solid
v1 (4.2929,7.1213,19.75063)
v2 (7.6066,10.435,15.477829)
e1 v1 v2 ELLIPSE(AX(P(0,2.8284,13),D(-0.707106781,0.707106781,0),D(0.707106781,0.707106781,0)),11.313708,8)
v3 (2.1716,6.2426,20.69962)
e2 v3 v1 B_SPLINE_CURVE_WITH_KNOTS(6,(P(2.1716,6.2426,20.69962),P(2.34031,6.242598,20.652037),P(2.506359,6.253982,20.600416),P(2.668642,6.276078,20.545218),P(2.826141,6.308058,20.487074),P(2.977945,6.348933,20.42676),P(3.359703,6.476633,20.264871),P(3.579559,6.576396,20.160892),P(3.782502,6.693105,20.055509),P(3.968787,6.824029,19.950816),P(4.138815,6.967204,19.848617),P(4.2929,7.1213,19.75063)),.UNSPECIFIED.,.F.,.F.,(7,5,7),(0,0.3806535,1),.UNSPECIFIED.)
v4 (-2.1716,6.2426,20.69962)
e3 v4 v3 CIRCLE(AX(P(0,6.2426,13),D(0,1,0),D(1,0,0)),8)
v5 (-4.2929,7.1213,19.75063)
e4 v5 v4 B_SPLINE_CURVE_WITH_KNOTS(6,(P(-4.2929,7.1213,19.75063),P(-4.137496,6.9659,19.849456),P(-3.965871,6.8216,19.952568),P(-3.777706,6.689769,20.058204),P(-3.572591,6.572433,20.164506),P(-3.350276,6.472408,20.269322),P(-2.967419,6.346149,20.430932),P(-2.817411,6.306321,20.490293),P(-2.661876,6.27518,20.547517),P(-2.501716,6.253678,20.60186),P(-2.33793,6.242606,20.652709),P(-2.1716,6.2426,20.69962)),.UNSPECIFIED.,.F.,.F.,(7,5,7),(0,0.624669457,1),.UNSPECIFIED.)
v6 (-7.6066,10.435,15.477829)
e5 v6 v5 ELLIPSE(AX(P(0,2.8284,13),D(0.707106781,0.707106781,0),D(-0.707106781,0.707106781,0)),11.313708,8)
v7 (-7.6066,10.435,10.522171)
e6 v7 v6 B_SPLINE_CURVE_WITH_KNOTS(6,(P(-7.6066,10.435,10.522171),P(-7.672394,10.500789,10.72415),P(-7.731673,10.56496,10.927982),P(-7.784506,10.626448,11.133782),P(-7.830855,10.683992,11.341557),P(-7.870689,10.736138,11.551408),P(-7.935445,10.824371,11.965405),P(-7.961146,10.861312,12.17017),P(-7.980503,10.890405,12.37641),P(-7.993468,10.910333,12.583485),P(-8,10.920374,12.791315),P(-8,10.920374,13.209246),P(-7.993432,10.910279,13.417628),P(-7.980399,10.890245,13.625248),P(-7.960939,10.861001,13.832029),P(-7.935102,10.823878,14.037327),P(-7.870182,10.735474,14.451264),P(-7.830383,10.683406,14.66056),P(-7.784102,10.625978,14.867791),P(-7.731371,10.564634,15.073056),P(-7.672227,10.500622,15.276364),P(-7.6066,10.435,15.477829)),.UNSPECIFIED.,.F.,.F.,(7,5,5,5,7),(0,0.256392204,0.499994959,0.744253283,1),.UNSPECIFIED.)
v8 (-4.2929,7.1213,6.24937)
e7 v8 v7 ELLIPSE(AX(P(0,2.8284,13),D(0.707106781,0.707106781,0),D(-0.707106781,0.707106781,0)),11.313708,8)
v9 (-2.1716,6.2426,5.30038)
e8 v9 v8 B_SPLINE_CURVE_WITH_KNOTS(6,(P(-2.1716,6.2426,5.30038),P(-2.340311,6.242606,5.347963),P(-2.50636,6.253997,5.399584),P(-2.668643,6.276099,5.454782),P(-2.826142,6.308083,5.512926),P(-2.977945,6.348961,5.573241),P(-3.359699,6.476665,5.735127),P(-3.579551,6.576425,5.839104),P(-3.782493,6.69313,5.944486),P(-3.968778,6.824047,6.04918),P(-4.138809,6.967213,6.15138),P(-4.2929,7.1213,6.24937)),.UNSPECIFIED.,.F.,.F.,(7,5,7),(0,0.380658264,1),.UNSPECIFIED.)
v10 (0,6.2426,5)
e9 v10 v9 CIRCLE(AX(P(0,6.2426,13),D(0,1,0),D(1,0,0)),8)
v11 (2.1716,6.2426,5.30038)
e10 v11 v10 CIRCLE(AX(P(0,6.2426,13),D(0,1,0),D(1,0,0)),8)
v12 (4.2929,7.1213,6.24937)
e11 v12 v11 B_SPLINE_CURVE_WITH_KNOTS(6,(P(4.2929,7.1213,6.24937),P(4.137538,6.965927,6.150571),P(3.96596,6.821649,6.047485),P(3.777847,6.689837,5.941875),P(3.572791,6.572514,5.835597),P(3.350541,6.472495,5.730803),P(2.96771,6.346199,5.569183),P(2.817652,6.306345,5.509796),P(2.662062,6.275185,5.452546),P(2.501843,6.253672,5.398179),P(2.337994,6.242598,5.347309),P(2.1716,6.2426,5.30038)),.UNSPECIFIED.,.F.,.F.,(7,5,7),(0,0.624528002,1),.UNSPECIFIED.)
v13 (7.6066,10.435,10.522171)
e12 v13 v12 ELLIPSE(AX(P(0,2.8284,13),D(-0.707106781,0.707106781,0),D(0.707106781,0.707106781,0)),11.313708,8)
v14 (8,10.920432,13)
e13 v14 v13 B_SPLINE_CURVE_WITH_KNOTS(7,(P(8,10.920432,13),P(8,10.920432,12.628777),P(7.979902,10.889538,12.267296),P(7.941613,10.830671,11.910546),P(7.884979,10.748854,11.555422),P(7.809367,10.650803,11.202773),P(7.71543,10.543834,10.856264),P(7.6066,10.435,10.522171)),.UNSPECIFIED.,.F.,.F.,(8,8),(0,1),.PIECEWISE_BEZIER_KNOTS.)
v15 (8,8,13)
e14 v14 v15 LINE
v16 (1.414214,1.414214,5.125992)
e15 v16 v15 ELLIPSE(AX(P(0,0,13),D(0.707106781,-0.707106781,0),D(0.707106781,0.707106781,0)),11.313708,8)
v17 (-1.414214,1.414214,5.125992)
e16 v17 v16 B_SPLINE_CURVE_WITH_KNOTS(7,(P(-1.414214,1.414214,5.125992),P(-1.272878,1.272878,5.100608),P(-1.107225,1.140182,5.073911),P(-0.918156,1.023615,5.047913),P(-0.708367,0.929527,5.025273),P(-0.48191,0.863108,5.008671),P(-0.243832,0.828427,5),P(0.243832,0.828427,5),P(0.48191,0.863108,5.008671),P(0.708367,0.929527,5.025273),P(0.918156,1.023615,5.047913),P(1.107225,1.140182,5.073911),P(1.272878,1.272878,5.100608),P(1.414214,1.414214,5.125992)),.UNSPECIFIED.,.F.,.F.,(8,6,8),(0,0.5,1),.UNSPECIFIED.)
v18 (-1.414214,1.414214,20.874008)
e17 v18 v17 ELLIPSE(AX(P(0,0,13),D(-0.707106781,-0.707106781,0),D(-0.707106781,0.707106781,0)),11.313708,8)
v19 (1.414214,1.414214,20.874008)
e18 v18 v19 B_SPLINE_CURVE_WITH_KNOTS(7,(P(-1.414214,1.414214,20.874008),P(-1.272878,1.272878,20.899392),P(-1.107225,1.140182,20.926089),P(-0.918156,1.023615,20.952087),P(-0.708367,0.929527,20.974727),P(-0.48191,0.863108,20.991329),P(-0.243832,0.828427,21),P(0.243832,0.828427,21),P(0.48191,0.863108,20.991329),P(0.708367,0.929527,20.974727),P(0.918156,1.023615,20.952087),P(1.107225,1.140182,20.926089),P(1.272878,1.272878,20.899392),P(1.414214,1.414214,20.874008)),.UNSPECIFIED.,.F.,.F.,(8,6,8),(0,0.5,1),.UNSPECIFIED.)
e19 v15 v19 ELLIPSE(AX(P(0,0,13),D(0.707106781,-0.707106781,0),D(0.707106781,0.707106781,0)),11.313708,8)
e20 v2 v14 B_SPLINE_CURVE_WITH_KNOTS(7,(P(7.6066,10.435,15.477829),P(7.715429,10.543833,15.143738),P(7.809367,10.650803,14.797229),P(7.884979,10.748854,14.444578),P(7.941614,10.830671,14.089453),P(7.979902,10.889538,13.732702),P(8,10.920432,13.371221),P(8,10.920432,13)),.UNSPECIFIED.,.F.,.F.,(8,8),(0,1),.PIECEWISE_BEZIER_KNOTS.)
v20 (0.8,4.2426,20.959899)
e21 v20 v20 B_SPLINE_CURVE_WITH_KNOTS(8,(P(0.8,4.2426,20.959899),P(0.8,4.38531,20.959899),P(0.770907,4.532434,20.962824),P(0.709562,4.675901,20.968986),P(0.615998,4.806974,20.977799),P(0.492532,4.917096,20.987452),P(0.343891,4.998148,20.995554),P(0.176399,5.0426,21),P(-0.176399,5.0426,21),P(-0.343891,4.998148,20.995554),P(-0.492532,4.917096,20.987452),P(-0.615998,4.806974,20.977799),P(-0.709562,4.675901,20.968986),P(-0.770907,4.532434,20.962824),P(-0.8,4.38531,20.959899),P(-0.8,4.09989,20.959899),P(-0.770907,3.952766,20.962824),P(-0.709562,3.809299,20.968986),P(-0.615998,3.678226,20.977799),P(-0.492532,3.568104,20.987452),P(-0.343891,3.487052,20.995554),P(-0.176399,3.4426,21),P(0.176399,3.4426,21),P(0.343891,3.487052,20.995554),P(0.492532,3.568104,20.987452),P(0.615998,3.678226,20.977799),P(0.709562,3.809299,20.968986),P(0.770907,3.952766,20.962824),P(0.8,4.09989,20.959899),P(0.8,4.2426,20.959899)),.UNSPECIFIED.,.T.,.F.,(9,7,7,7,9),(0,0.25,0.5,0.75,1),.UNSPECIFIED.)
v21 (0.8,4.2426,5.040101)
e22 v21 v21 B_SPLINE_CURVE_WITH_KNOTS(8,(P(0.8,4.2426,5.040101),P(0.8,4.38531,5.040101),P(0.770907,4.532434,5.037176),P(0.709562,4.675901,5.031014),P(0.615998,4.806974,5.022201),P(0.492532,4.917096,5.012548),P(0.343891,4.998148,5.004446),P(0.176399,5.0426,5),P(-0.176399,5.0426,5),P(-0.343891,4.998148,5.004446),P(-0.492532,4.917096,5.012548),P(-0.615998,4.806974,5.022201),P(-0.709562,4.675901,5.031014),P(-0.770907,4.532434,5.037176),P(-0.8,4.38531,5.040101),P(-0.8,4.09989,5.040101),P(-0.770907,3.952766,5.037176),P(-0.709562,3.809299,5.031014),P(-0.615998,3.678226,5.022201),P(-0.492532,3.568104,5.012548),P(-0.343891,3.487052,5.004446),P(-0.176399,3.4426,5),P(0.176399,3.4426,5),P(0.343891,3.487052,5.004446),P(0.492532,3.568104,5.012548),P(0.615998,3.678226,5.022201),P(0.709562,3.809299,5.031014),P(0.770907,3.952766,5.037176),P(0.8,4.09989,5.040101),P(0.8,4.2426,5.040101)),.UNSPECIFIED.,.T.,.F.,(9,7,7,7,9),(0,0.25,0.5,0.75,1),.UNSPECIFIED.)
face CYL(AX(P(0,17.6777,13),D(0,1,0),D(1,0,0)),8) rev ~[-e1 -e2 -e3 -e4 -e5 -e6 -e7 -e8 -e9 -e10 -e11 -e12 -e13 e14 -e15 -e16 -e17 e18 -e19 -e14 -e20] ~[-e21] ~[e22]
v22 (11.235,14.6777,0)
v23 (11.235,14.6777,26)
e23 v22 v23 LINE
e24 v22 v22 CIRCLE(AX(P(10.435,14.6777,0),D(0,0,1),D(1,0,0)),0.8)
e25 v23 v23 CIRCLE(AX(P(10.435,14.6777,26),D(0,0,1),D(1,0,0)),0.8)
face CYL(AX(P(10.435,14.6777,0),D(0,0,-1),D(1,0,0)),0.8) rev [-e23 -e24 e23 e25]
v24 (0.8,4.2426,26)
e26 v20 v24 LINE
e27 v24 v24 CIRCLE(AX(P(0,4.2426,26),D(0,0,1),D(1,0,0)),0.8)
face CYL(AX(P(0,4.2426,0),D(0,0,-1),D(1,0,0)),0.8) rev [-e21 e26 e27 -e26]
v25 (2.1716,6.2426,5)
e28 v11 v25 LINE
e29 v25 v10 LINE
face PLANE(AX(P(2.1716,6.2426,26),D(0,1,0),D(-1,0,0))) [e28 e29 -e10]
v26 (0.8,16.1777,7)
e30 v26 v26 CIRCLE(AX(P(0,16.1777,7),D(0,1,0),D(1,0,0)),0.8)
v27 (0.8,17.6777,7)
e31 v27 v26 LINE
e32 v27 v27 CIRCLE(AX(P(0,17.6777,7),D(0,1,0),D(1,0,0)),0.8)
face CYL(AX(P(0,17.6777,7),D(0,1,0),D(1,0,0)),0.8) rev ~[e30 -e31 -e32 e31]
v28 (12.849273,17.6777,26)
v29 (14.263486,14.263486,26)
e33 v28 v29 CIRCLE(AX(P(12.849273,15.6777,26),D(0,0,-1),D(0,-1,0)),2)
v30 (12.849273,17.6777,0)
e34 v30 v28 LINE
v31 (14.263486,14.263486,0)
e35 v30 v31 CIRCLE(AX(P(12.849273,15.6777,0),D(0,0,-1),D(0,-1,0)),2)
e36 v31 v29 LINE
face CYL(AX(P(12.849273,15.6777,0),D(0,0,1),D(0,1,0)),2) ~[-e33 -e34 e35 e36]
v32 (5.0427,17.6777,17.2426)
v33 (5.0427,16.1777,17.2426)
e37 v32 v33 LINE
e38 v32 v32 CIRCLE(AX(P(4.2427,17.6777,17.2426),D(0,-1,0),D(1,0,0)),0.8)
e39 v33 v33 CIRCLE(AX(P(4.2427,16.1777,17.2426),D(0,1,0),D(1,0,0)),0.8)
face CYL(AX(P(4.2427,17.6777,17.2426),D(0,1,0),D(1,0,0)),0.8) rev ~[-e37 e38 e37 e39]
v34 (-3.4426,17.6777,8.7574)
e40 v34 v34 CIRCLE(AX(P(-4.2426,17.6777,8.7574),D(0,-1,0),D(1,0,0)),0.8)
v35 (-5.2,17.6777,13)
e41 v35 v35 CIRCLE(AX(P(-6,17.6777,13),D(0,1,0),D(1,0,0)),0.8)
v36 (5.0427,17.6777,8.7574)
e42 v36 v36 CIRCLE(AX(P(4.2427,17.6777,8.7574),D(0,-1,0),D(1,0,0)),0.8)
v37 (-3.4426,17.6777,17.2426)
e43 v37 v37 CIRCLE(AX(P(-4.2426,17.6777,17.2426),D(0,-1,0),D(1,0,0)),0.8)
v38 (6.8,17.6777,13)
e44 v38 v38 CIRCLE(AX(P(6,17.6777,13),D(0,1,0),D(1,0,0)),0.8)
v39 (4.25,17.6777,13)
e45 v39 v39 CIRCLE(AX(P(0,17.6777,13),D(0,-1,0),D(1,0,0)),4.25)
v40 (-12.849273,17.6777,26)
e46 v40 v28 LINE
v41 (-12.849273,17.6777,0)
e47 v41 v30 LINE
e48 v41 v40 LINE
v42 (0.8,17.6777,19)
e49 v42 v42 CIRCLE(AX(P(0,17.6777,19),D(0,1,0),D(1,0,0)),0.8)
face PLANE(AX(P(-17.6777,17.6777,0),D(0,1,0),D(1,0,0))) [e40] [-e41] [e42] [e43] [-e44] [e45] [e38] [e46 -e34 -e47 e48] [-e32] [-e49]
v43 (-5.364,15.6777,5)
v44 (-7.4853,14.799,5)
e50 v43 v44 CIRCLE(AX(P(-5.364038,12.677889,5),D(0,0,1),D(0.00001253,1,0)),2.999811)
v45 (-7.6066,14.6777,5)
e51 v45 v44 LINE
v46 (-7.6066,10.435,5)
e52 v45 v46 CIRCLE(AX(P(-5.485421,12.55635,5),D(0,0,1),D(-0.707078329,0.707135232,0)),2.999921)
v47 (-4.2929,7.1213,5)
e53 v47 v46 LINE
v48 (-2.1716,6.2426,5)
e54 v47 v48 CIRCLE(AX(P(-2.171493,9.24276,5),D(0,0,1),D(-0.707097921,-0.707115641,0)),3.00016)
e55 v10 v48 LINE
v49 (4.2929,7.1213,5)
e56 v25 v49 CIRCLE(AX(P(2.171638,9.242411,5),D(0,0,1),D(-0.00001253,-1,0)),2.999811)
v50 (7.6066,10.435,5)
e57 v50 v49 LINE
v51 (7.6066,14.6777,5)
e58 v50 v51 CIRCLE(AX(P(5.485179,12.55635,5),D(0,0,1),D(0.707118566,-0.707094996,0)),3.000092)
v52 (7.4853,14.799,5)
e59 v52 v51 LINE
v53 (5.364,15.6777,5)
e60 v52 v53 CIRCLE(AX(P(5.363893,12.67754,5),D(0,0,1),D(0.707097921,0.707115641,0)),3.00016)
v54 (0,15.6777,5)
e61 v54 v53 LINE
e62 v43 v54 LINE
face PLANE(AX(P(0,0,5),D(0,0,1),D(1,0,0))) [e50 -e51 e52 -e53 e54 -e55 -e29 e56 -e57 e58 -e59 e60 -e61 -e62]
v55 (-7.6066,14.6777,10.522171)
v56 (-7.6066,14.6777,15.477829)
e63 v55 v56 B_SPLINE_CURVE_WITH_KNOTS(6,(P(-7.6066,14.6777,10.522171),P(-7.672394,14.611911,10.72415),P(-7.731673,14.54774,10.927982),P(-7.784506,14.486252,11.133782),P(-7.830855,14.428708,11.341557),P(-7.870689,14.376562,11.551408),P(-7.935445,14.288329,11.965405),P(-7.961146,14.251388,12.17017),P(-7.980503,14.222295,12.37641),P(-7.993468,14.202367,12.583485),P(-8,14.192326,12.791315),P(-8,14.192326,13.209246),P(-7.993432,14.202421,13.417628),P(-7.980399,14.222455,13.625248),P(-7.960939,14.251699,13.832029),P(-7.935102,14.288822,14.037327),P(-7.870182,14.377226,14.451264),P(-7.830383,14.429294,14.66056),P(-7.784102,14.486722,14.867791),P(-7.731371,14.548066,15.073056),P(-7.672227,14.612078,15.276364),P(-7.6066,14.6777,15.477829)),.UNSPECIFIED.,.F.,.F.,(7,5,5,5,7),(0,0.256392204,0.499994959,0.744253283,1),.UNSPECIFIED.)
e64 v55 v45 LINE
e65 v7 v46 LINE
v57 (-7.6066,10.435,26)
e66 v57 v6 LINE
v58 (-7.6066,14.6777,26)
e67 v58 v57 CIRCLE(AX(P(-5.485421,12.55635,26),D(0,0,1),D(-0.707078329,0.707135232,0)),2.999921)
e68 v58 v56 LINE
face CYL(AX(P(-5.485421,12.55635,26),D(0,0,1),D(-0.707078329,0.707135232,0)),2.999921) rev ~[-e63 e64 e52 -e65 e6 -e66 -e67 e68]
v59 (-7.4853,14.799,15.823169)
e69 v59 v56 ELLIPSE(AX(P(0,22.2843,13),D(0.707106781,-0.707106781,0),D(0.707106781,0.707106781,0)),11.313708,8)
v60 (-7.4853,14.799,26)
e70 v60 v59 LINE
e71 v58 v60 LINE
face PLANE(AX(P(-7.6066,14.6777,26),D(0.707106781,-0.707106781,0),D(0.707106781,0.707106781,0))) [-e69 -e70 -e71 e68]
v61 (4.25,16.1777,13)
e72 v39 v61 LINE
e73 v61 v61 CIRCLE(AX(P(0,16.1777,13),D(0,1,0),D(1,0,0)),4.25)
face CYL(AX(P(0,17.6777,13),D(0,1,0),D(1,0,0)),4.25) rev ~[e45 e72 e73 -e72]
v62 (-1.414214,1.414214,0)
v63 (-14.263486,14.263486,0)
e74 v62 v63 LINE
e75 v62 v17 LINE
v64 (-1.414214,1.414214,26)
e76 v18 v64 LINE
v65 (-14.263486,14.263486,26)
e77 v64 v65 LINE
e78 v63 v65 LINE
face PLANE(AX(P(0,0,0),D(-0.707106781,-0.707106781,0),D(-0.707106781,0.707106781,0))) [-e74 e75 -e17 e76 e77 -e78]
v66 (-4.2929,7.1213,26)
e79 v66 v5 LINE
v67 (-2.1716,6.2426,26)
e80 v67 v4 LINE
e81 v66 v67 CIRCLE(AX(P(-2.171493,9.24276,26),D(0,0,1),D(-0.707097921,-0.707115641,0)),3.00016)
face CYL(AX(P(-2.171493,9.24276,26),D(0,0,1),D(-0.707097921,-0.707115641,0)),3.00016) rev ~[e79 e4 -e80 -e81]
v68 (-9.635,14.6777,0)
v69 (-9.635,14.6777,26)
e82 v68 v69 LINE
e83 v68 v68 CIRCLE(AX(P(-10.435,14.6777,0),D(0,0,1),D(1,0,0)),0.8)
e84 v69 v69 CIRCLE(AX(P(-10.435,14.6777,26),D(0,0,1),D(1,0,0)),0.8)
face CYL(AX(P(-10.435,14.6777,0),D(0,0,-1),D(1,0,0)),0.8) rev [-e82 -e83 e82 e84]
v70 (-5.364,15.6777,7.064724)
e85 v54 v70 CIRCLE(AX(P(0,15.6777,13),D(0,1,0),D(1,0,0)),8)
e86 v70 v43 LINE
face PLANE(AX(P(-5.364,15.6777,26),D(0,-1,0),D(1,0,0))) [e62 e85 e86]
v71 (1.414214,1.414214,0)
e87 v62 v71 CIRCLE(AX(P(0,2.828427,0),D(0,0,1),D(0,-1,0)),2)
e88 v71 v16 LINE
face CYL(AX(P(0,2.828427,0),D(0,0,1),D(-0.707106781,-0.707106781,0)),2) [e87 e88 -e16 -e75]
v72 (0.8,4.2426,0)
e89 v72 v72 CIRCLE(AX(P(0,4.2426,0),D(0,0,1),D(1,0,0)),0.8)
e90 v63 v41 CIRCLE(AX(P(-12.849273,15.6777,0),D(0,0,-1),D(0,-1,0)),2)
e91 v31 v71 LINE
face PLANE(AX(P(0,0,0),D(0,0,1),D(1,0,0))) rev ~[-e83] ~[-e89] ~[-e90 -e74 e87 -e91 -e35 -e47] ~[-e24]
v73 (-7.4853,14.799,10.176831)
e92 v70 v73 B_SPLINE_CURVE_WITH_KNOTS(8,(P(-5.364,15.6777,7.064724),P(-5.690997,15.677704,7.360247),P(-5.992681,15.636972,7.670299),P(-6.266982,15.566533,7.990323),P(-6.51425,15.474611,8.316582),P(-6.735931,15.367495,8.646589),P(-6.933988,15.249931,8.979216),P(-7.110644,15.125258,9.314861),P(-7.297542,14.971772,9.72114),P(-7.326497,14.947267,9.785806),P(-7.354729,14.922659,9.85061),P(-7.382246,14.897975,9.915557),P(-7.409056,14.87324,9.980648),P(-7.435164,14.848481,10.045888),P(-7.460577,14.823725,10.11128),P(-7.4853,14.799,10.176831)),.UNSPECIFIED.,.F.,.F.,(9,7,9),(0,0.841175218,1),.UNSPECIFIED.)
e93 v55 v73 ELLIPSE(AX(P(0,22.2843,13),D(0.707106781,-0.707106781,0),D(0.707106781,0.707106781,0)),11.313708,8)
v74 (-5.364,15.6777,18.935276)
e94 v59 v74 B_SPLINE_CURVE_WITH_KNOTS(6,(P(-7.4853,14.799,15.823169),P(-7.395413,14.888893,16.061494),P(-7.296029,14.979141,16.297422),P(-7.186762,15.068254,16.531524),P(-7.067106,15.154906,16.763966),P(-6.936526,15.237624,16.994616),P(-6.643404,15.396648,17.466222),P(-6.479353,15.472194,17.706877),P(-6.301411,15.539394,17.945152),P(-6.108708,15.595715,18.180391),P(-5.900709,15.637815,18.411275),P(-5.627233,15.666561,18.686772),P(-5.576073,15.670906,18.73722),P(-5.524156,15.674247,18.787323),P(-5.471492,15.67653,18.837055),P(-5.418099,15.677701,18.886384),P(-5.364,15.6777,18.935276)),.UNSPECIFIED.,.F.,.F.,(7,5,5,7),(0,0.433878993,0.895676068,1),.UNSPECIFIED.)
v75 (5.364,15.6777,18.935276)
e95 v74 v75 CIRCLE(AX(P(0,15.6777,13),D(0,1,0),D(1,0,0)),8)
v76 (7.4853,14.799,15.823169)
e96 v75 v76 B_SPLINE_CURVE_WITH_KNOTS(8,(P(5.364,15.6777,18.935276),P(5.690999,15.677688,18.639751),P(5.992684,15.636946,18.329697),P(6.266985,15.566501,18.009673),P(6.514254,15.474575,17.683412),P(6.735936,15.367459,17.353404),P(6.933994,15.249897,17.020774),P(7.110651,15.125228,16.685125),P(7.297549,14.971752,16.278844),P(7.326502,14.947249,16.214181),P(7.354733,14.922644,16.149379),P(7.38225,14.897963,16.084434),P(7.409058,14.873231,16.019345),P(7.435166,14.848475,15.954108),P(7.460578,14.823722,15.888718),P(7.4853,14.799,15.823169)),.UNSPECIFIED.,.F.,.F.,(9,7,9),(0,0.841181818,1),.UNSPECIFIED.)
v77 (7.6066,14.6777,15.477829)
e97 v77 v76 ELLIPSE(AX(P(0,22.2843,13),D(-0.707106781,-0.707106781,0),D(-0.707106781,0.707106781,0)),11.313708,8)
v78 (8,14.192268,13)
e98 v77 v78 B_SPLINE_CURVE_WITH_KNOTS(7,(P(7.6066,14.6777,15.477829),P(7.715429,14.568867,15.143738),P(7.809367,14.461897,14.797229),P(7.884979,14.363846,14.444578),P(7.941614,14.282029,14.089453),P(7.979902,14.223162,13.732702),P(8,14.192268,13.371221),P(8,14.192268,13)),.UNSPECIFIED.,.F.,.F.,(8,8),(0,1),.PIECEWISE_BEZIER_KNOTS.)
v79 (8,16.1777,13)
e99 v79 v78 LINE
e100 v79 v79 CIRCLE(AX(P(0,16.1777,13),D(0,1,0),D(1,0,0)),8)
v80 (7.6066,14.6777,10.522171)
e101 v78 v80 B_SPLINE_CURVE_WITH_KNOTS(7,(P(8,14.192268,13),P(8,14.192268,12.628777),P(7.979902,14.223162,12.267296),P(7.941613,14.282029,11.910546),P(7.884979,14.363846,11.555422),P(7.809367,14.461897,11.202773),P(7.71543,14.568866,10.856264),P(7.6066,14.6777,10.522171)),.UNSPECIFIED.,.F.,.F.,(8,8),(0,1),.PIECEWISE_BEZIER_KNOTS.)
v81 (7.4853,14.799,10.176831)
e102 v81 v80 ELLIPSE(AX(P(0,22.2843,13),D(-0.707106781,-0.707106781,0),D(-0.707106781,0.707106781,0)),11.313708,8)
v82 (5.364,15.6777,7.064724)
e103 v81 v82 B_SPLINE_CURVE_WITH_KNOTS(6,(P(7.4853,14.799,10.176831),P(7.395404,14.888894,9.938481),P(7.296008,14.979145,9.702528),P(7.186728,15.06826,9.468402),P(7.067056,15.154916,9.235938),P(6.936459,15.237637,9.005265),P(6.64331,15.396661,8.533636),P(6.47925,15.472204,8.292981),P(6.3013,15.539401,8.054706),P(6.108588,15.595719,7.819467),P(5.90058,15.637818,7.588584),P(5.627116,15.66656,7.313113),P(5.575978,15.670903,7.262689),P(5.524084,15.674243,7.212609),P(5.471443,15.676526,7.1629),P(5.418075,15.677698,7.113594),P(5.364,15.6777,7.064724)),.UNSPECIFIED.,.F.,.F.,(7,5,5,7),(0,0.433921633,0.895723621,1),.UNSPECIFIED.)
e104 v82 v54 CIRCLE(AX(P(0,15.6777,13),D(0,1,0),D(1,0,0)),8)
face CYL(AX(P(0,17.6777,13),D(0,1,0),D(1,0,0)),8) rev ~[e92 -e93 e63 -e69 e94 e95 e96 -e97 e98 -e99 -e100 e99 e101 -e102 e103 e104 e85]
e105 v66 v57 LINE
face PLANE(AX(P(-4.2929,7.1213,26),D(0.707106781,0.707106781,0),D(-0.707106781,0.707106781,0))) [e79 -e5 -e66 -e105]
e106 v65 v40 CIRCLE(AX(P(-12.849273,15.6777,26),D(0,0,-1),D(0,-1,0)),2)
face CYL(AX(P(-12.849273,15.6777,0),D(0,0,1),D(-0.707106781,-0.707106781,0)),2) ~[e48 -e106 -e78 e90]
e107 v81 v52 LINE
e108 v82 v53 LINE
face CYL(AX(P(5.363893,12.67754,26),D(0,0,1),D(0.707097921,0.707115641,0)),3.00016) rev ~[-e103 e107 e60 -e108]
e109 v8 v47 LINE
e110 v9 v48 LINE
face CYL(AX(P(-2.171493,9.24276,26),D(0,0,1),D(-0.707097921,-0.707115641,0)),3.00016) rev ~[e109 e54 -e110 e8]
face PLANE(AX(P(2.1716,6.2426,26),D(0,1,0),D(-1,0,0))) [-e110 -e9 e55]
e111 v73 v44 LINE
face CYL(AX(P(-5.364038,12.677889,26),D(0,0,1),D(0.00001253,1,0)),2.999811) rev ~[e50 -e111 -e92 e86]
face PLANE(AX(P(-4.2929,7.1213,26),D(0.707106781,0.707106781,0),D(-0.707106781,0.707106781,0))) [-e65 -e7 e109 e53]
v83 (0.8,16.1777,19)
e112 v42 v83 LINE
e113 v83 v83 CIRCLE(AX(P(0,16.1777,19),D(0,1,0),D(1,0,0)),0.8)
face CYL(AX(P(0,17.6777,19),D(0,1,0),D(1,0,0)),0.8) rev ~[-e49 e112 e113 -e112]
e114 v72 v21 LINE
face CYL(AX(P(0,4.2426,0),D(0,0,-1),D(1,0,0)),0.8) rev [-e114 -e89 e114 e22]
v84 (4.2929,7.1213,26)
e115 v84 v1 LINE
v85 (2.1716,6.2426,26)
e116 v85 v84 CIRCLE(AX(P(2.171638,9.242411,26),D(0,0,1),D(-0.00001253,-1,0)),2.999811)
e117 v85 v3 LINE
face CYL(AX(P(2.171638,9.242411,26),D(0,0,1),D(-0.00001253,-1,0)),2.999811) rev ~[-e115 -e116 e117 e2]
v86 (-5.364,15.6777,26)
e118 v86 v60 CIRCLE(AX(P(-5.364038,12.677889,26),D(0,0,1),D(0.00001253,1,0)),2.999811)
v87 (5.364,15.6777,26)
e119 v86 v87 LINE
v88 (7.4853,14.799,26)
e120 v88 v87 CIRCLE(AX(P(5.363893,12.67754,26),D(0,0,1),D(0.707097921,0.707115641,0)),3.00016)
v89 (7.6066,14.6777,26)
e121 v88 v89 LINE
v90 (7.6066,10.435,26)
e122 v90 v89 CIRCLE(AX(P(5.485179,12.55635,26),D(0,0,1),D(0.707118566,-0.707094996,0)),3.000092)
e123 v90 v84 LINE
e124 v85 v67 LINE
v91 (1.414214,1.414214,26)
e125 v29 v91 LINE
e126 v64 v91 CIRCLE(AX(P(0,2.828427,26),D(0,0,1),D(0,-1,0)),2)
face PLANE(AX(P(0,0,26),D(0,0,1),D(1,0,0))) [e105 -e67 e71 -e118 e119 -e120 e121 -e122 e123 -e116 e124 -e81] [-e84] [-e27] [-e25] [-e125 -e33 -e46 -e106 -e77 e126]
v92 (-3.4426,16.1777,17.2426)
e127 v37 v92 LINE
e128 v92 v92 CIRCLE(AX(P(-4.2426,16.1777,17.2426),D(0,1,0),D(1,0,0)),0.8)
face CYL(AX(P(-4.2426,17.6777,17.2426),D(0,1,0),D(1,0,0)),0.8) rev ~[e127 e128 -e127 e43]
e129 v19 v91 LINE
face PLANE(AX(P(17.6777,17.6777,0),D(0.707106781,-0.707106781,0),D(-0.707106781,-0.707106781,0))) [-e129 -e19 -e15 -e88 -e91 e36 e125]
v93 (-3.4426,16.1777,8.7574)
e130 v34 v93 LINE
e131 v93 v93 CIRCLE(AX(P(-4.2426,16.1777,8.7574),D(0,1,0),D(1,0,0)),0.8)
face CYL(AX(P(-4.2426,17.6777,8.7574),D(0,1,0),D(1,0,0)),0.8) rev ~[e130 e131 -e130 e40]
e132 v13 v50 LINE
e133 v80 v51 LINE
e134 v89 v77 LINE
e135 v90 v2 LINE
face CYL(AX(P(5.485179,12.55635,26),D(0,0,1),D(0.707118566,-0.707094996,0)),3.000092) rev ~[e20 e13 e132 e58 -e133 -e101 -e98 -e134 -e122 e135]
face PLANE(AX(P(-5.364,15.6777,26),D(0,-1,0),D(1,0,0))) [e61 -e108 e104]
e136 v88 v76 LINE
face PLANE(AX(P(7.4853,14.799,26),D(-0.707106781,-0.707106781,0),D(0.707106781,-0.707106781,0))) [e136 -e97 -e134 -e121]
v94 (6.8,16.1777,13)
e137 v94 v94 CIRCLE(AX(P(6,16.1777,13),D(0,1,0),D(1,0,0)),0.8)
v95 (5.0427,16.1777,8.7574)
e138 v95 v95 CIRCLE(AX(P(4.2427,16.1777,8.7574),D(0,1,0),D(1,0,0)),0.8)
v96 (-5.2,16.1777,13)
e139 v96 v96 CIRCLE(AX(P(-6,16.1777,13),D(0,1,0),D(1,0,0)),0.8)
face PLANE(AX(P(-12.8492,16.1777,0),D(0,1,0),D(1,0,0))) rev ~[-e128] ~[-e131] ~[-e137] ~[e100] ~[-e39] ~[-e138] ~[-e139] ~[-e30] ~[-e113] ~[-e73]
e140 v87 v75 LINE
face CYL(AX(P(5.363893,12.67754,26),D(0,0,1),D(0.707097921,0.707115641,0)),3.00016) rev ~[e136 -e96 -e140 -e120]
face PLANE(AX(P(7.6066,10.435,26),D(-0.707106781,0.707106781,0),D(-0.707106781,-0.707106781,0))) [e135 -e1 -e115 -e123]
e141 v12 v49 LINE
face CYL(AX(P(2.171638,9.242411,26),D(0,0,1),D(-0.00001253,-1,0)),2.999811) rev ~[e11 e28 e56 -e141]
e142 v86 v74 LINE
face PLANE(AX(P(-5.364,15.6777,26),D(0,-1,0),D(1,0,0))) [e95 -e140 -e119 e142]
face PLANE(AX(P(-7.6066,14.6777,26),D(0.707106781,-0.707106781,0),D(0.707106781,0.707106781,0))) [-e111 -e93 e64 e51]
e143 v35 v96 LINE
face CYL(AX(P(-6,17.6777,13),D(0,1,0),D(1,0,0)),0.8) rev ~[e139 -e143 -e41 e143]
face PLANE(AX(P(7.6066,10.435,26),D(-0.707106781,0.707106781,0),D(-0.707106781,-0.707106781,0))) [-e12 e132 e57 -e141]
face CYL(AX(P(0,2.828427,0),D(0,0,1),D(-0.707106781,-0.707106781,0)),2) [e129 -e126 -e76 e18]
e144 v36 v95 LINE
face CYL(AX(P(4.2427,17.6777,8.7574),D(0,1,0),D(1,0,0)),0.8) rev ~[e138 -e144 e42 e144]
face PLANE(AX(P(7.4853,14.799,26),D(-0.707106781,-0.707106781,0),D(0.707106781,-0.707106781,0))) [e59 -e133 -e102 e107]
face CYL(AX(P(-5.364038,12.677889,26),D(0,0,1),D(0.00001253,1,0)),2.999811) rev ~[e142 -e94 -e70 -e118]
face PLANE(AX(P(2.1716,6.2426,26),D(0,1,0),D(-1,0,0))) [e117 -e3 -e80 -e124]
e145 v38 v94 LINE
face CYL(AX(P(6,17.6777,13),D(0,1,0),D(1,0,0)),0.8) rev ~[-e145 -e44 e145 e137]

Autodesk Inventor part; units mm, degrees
ref_plane "YZ Plane" through (0, 0, 0) normal (1, 0, 0) x (0, 1, 0)
ref_plane "XZ Plane" through (0, 0, 0) normal (0, 1, 0) x (-1, 0, 0)
ref_plane "XY Plane" through (0, 0, 0) normal (0, 0, 1) x (1, 0, 0)
sketch "スケッチ1" plane through (0, 0, 0) normal (0, 0, 1) x (1, 0, 0)
  line L0 (0, 0) -> (-17.6777, 17.6777)
  line L1 (-17.6777, 17.6777) -> (17.6777, 17.6777)
  line L2 (17.6777, 17.6777) -> (0, 0)
  line L3 (-17.6777, 17.6777) -> (-21.2487, 14.1066)
  line L4 (0, 0) -> (-2.2909, -2.2909)
  circle A0 centre (-10.435, 14.6777) radius 0.8
  circle A1 centre (10.435, 14.6777) radius 0.8
  circle A2 centre (0, 4.2426) radius 0.8
  dimension "d0" = 25
  dimension "d1" = 45
  dimension "d5" = 1.6
  dimension "d6" = 1.6
  dimension "d7" = 1.6
  dimension "d8" = 3
  dimension "d9" = 3
  dimension "d10" = 3
  dimension "d11" = 3
  dimension "d12" = 3
  dimension "d13" = 3
extrude "押し出し1" add sketch "スケッチ1" along normal blind 26
fillet "フィレット1" radius 2 3 edges at (17.6777, 17.6777, 13) (0, 0, 13) (-17.6777, 17.6777, 13)
sketch "スケッチ2" plane through (-12.8492, 17.6777, 0) normal (0, 1, 0) x (1, 0, 0)
  line L0 (0, -26) -> (0, 0) projected
  line L1 (25.6985, -26) -> (0, -26) projected
  line L2 (25.6985, 0) -> (25.6985, -26) projected
  line L3 (25.6985, 0) -> (0, 0) projected
  line L4 (25.6985, -26) -> (0, 0)
  line L5 (0, -26) -> (-2, -26) projected
  line L6 (0, -26) -> (25.6985, 0)
  circle A0 centre (12.8492, -13) radius 4.25
  circle A1 centre (12.8492, -13) radius 6 construction
  circle A2 centre (12.8492, -19) radius 0.8
  circle A3 centre (17.0919, -17.2426) radius 0.8
  circle A4 centre (18.8492, -13) radius 0.8
  circle A5 centre (17.0919, -8.7574) radius 0.8
  circle A6 centre (12.8492, -7) radius 0.8
  circle A7 centre (8.6066, -8.7574) radius 0.8
  circle A8 centre (12.8492, -13) radius 8
  circle A9 centre (6.8492, -13) radius 0.8
  circle A10 centre (8.6066, -17.2426) radius 0.8
  point P0 (12.8492, 0)
  point P1 (-1.4142, -26)
  dimension "d15" = 12
  dimension "d14" = 8.5
  dimension "d16" = 1.6
  dimension "d23" = 360
  dimension "d25" = 16
extrude "押し出し2" cut sketch "スケッチ2" against normal through all contours A8 L4 A7 A0 L6 A10 | L6 A10 A0 L4 A3 A8 | A8 L6 A5 A0 L4 A7 | L4 A3 A0 L6 A5 A8 | A10 L6 | L6 A10 | A7 L4 | L4 A7 | A3 L4 | L4 A3 | A5 L6 | L6 A5 | A0 L4 L6 | L6 L4 A0 | A0 L6 L4 | L4 L6 A0 | A2 | A4 | A6 | A9
extrude "押し出し3" add sketch "スケッチ2" against normal blind 1.5 contours A8 L4 A7 A0 L6 A10 | L6 A10 A0 L4 A3 A8 | A8 L6 A5 A0 L4 A7 | L4 A3 A0 L6 A5 A8
sketch "スケッチ4" plane through (0, 0, 26) normal (0, 0, 1) x (1, 0, 0)
  line L0 (-4.2929, 7.1213) -> (-7.6066, 10.435) projected
  arc A0 (-7.6066, 14.6777) -> (-7.6066, 10.435) centre (-5.4853, 12.5563) ccw projected
  arc A1 (-5.364, 15.6777) -> (-7.4853, 14.799) centre (-5.364, 12.6777) ccw projected
  line L1 (-7.6066, 14.6777) -> (-7.4853, 14.799) projected
  line L2 (-5.364, 15.6777) -> (5.364, 15.6777) projected
  arc A2 (7.4853, 14.799) -> (5.364, 15.6777) centre (5.364, 12.6777) ccw projected
  arc A3 (7.6066, 10.435) -> (7.6066, 14.6777) centre (5.4853, 12.5563) ccw projected
  line L3 (7.4853, 14.799) -> (7.6066, 14.6777) projected
  line L4 (7.6066, 10.435) -> (4.2929, 7.1213) projected
  arc A4 (2.1716, 6.2426) -> (4.2929, 7.1213) centre (2.1716, 9.2426) ccw projected
  line L5 (2.1716, 6.2426) -> (-2.1716, 6.2426) projected
  arc A5 (-4.2929, 7.1213) -> (-2.1716, 6.2426) centre (-2.1716, 9.2426) ccw projected
  point P0 (0, 0)
extrude "押し出し5" cut sketch "スケッチ4" against normal blind 21
equation "\"d9\" = d8"
equation "\"d10\" = d8"
equation "\"d11\" = d8"
equation "\"d12\" = d8"
equation "\"d13\" = d8"
equation "\"BendRadius\" = Thickness"
equation "\"BendReliefWidth\" = Thickness"
equation "\"BendReliefDepth\" = 0.5 * Thickness"
equation "\"CornerReliefSize\" = 4 * Thickness"
equation "\"MinimumRemnant\" = 2 * Thickness"
equation "\"TransitionRadius\" = BendRadius"
equation "\"JacobiRadiusSize\" = BendRadius"
equation "\"GapSize\" = Thickness"
equation "\"Thickness\" = 3.048"
properties part number "hipjoint_middle"
